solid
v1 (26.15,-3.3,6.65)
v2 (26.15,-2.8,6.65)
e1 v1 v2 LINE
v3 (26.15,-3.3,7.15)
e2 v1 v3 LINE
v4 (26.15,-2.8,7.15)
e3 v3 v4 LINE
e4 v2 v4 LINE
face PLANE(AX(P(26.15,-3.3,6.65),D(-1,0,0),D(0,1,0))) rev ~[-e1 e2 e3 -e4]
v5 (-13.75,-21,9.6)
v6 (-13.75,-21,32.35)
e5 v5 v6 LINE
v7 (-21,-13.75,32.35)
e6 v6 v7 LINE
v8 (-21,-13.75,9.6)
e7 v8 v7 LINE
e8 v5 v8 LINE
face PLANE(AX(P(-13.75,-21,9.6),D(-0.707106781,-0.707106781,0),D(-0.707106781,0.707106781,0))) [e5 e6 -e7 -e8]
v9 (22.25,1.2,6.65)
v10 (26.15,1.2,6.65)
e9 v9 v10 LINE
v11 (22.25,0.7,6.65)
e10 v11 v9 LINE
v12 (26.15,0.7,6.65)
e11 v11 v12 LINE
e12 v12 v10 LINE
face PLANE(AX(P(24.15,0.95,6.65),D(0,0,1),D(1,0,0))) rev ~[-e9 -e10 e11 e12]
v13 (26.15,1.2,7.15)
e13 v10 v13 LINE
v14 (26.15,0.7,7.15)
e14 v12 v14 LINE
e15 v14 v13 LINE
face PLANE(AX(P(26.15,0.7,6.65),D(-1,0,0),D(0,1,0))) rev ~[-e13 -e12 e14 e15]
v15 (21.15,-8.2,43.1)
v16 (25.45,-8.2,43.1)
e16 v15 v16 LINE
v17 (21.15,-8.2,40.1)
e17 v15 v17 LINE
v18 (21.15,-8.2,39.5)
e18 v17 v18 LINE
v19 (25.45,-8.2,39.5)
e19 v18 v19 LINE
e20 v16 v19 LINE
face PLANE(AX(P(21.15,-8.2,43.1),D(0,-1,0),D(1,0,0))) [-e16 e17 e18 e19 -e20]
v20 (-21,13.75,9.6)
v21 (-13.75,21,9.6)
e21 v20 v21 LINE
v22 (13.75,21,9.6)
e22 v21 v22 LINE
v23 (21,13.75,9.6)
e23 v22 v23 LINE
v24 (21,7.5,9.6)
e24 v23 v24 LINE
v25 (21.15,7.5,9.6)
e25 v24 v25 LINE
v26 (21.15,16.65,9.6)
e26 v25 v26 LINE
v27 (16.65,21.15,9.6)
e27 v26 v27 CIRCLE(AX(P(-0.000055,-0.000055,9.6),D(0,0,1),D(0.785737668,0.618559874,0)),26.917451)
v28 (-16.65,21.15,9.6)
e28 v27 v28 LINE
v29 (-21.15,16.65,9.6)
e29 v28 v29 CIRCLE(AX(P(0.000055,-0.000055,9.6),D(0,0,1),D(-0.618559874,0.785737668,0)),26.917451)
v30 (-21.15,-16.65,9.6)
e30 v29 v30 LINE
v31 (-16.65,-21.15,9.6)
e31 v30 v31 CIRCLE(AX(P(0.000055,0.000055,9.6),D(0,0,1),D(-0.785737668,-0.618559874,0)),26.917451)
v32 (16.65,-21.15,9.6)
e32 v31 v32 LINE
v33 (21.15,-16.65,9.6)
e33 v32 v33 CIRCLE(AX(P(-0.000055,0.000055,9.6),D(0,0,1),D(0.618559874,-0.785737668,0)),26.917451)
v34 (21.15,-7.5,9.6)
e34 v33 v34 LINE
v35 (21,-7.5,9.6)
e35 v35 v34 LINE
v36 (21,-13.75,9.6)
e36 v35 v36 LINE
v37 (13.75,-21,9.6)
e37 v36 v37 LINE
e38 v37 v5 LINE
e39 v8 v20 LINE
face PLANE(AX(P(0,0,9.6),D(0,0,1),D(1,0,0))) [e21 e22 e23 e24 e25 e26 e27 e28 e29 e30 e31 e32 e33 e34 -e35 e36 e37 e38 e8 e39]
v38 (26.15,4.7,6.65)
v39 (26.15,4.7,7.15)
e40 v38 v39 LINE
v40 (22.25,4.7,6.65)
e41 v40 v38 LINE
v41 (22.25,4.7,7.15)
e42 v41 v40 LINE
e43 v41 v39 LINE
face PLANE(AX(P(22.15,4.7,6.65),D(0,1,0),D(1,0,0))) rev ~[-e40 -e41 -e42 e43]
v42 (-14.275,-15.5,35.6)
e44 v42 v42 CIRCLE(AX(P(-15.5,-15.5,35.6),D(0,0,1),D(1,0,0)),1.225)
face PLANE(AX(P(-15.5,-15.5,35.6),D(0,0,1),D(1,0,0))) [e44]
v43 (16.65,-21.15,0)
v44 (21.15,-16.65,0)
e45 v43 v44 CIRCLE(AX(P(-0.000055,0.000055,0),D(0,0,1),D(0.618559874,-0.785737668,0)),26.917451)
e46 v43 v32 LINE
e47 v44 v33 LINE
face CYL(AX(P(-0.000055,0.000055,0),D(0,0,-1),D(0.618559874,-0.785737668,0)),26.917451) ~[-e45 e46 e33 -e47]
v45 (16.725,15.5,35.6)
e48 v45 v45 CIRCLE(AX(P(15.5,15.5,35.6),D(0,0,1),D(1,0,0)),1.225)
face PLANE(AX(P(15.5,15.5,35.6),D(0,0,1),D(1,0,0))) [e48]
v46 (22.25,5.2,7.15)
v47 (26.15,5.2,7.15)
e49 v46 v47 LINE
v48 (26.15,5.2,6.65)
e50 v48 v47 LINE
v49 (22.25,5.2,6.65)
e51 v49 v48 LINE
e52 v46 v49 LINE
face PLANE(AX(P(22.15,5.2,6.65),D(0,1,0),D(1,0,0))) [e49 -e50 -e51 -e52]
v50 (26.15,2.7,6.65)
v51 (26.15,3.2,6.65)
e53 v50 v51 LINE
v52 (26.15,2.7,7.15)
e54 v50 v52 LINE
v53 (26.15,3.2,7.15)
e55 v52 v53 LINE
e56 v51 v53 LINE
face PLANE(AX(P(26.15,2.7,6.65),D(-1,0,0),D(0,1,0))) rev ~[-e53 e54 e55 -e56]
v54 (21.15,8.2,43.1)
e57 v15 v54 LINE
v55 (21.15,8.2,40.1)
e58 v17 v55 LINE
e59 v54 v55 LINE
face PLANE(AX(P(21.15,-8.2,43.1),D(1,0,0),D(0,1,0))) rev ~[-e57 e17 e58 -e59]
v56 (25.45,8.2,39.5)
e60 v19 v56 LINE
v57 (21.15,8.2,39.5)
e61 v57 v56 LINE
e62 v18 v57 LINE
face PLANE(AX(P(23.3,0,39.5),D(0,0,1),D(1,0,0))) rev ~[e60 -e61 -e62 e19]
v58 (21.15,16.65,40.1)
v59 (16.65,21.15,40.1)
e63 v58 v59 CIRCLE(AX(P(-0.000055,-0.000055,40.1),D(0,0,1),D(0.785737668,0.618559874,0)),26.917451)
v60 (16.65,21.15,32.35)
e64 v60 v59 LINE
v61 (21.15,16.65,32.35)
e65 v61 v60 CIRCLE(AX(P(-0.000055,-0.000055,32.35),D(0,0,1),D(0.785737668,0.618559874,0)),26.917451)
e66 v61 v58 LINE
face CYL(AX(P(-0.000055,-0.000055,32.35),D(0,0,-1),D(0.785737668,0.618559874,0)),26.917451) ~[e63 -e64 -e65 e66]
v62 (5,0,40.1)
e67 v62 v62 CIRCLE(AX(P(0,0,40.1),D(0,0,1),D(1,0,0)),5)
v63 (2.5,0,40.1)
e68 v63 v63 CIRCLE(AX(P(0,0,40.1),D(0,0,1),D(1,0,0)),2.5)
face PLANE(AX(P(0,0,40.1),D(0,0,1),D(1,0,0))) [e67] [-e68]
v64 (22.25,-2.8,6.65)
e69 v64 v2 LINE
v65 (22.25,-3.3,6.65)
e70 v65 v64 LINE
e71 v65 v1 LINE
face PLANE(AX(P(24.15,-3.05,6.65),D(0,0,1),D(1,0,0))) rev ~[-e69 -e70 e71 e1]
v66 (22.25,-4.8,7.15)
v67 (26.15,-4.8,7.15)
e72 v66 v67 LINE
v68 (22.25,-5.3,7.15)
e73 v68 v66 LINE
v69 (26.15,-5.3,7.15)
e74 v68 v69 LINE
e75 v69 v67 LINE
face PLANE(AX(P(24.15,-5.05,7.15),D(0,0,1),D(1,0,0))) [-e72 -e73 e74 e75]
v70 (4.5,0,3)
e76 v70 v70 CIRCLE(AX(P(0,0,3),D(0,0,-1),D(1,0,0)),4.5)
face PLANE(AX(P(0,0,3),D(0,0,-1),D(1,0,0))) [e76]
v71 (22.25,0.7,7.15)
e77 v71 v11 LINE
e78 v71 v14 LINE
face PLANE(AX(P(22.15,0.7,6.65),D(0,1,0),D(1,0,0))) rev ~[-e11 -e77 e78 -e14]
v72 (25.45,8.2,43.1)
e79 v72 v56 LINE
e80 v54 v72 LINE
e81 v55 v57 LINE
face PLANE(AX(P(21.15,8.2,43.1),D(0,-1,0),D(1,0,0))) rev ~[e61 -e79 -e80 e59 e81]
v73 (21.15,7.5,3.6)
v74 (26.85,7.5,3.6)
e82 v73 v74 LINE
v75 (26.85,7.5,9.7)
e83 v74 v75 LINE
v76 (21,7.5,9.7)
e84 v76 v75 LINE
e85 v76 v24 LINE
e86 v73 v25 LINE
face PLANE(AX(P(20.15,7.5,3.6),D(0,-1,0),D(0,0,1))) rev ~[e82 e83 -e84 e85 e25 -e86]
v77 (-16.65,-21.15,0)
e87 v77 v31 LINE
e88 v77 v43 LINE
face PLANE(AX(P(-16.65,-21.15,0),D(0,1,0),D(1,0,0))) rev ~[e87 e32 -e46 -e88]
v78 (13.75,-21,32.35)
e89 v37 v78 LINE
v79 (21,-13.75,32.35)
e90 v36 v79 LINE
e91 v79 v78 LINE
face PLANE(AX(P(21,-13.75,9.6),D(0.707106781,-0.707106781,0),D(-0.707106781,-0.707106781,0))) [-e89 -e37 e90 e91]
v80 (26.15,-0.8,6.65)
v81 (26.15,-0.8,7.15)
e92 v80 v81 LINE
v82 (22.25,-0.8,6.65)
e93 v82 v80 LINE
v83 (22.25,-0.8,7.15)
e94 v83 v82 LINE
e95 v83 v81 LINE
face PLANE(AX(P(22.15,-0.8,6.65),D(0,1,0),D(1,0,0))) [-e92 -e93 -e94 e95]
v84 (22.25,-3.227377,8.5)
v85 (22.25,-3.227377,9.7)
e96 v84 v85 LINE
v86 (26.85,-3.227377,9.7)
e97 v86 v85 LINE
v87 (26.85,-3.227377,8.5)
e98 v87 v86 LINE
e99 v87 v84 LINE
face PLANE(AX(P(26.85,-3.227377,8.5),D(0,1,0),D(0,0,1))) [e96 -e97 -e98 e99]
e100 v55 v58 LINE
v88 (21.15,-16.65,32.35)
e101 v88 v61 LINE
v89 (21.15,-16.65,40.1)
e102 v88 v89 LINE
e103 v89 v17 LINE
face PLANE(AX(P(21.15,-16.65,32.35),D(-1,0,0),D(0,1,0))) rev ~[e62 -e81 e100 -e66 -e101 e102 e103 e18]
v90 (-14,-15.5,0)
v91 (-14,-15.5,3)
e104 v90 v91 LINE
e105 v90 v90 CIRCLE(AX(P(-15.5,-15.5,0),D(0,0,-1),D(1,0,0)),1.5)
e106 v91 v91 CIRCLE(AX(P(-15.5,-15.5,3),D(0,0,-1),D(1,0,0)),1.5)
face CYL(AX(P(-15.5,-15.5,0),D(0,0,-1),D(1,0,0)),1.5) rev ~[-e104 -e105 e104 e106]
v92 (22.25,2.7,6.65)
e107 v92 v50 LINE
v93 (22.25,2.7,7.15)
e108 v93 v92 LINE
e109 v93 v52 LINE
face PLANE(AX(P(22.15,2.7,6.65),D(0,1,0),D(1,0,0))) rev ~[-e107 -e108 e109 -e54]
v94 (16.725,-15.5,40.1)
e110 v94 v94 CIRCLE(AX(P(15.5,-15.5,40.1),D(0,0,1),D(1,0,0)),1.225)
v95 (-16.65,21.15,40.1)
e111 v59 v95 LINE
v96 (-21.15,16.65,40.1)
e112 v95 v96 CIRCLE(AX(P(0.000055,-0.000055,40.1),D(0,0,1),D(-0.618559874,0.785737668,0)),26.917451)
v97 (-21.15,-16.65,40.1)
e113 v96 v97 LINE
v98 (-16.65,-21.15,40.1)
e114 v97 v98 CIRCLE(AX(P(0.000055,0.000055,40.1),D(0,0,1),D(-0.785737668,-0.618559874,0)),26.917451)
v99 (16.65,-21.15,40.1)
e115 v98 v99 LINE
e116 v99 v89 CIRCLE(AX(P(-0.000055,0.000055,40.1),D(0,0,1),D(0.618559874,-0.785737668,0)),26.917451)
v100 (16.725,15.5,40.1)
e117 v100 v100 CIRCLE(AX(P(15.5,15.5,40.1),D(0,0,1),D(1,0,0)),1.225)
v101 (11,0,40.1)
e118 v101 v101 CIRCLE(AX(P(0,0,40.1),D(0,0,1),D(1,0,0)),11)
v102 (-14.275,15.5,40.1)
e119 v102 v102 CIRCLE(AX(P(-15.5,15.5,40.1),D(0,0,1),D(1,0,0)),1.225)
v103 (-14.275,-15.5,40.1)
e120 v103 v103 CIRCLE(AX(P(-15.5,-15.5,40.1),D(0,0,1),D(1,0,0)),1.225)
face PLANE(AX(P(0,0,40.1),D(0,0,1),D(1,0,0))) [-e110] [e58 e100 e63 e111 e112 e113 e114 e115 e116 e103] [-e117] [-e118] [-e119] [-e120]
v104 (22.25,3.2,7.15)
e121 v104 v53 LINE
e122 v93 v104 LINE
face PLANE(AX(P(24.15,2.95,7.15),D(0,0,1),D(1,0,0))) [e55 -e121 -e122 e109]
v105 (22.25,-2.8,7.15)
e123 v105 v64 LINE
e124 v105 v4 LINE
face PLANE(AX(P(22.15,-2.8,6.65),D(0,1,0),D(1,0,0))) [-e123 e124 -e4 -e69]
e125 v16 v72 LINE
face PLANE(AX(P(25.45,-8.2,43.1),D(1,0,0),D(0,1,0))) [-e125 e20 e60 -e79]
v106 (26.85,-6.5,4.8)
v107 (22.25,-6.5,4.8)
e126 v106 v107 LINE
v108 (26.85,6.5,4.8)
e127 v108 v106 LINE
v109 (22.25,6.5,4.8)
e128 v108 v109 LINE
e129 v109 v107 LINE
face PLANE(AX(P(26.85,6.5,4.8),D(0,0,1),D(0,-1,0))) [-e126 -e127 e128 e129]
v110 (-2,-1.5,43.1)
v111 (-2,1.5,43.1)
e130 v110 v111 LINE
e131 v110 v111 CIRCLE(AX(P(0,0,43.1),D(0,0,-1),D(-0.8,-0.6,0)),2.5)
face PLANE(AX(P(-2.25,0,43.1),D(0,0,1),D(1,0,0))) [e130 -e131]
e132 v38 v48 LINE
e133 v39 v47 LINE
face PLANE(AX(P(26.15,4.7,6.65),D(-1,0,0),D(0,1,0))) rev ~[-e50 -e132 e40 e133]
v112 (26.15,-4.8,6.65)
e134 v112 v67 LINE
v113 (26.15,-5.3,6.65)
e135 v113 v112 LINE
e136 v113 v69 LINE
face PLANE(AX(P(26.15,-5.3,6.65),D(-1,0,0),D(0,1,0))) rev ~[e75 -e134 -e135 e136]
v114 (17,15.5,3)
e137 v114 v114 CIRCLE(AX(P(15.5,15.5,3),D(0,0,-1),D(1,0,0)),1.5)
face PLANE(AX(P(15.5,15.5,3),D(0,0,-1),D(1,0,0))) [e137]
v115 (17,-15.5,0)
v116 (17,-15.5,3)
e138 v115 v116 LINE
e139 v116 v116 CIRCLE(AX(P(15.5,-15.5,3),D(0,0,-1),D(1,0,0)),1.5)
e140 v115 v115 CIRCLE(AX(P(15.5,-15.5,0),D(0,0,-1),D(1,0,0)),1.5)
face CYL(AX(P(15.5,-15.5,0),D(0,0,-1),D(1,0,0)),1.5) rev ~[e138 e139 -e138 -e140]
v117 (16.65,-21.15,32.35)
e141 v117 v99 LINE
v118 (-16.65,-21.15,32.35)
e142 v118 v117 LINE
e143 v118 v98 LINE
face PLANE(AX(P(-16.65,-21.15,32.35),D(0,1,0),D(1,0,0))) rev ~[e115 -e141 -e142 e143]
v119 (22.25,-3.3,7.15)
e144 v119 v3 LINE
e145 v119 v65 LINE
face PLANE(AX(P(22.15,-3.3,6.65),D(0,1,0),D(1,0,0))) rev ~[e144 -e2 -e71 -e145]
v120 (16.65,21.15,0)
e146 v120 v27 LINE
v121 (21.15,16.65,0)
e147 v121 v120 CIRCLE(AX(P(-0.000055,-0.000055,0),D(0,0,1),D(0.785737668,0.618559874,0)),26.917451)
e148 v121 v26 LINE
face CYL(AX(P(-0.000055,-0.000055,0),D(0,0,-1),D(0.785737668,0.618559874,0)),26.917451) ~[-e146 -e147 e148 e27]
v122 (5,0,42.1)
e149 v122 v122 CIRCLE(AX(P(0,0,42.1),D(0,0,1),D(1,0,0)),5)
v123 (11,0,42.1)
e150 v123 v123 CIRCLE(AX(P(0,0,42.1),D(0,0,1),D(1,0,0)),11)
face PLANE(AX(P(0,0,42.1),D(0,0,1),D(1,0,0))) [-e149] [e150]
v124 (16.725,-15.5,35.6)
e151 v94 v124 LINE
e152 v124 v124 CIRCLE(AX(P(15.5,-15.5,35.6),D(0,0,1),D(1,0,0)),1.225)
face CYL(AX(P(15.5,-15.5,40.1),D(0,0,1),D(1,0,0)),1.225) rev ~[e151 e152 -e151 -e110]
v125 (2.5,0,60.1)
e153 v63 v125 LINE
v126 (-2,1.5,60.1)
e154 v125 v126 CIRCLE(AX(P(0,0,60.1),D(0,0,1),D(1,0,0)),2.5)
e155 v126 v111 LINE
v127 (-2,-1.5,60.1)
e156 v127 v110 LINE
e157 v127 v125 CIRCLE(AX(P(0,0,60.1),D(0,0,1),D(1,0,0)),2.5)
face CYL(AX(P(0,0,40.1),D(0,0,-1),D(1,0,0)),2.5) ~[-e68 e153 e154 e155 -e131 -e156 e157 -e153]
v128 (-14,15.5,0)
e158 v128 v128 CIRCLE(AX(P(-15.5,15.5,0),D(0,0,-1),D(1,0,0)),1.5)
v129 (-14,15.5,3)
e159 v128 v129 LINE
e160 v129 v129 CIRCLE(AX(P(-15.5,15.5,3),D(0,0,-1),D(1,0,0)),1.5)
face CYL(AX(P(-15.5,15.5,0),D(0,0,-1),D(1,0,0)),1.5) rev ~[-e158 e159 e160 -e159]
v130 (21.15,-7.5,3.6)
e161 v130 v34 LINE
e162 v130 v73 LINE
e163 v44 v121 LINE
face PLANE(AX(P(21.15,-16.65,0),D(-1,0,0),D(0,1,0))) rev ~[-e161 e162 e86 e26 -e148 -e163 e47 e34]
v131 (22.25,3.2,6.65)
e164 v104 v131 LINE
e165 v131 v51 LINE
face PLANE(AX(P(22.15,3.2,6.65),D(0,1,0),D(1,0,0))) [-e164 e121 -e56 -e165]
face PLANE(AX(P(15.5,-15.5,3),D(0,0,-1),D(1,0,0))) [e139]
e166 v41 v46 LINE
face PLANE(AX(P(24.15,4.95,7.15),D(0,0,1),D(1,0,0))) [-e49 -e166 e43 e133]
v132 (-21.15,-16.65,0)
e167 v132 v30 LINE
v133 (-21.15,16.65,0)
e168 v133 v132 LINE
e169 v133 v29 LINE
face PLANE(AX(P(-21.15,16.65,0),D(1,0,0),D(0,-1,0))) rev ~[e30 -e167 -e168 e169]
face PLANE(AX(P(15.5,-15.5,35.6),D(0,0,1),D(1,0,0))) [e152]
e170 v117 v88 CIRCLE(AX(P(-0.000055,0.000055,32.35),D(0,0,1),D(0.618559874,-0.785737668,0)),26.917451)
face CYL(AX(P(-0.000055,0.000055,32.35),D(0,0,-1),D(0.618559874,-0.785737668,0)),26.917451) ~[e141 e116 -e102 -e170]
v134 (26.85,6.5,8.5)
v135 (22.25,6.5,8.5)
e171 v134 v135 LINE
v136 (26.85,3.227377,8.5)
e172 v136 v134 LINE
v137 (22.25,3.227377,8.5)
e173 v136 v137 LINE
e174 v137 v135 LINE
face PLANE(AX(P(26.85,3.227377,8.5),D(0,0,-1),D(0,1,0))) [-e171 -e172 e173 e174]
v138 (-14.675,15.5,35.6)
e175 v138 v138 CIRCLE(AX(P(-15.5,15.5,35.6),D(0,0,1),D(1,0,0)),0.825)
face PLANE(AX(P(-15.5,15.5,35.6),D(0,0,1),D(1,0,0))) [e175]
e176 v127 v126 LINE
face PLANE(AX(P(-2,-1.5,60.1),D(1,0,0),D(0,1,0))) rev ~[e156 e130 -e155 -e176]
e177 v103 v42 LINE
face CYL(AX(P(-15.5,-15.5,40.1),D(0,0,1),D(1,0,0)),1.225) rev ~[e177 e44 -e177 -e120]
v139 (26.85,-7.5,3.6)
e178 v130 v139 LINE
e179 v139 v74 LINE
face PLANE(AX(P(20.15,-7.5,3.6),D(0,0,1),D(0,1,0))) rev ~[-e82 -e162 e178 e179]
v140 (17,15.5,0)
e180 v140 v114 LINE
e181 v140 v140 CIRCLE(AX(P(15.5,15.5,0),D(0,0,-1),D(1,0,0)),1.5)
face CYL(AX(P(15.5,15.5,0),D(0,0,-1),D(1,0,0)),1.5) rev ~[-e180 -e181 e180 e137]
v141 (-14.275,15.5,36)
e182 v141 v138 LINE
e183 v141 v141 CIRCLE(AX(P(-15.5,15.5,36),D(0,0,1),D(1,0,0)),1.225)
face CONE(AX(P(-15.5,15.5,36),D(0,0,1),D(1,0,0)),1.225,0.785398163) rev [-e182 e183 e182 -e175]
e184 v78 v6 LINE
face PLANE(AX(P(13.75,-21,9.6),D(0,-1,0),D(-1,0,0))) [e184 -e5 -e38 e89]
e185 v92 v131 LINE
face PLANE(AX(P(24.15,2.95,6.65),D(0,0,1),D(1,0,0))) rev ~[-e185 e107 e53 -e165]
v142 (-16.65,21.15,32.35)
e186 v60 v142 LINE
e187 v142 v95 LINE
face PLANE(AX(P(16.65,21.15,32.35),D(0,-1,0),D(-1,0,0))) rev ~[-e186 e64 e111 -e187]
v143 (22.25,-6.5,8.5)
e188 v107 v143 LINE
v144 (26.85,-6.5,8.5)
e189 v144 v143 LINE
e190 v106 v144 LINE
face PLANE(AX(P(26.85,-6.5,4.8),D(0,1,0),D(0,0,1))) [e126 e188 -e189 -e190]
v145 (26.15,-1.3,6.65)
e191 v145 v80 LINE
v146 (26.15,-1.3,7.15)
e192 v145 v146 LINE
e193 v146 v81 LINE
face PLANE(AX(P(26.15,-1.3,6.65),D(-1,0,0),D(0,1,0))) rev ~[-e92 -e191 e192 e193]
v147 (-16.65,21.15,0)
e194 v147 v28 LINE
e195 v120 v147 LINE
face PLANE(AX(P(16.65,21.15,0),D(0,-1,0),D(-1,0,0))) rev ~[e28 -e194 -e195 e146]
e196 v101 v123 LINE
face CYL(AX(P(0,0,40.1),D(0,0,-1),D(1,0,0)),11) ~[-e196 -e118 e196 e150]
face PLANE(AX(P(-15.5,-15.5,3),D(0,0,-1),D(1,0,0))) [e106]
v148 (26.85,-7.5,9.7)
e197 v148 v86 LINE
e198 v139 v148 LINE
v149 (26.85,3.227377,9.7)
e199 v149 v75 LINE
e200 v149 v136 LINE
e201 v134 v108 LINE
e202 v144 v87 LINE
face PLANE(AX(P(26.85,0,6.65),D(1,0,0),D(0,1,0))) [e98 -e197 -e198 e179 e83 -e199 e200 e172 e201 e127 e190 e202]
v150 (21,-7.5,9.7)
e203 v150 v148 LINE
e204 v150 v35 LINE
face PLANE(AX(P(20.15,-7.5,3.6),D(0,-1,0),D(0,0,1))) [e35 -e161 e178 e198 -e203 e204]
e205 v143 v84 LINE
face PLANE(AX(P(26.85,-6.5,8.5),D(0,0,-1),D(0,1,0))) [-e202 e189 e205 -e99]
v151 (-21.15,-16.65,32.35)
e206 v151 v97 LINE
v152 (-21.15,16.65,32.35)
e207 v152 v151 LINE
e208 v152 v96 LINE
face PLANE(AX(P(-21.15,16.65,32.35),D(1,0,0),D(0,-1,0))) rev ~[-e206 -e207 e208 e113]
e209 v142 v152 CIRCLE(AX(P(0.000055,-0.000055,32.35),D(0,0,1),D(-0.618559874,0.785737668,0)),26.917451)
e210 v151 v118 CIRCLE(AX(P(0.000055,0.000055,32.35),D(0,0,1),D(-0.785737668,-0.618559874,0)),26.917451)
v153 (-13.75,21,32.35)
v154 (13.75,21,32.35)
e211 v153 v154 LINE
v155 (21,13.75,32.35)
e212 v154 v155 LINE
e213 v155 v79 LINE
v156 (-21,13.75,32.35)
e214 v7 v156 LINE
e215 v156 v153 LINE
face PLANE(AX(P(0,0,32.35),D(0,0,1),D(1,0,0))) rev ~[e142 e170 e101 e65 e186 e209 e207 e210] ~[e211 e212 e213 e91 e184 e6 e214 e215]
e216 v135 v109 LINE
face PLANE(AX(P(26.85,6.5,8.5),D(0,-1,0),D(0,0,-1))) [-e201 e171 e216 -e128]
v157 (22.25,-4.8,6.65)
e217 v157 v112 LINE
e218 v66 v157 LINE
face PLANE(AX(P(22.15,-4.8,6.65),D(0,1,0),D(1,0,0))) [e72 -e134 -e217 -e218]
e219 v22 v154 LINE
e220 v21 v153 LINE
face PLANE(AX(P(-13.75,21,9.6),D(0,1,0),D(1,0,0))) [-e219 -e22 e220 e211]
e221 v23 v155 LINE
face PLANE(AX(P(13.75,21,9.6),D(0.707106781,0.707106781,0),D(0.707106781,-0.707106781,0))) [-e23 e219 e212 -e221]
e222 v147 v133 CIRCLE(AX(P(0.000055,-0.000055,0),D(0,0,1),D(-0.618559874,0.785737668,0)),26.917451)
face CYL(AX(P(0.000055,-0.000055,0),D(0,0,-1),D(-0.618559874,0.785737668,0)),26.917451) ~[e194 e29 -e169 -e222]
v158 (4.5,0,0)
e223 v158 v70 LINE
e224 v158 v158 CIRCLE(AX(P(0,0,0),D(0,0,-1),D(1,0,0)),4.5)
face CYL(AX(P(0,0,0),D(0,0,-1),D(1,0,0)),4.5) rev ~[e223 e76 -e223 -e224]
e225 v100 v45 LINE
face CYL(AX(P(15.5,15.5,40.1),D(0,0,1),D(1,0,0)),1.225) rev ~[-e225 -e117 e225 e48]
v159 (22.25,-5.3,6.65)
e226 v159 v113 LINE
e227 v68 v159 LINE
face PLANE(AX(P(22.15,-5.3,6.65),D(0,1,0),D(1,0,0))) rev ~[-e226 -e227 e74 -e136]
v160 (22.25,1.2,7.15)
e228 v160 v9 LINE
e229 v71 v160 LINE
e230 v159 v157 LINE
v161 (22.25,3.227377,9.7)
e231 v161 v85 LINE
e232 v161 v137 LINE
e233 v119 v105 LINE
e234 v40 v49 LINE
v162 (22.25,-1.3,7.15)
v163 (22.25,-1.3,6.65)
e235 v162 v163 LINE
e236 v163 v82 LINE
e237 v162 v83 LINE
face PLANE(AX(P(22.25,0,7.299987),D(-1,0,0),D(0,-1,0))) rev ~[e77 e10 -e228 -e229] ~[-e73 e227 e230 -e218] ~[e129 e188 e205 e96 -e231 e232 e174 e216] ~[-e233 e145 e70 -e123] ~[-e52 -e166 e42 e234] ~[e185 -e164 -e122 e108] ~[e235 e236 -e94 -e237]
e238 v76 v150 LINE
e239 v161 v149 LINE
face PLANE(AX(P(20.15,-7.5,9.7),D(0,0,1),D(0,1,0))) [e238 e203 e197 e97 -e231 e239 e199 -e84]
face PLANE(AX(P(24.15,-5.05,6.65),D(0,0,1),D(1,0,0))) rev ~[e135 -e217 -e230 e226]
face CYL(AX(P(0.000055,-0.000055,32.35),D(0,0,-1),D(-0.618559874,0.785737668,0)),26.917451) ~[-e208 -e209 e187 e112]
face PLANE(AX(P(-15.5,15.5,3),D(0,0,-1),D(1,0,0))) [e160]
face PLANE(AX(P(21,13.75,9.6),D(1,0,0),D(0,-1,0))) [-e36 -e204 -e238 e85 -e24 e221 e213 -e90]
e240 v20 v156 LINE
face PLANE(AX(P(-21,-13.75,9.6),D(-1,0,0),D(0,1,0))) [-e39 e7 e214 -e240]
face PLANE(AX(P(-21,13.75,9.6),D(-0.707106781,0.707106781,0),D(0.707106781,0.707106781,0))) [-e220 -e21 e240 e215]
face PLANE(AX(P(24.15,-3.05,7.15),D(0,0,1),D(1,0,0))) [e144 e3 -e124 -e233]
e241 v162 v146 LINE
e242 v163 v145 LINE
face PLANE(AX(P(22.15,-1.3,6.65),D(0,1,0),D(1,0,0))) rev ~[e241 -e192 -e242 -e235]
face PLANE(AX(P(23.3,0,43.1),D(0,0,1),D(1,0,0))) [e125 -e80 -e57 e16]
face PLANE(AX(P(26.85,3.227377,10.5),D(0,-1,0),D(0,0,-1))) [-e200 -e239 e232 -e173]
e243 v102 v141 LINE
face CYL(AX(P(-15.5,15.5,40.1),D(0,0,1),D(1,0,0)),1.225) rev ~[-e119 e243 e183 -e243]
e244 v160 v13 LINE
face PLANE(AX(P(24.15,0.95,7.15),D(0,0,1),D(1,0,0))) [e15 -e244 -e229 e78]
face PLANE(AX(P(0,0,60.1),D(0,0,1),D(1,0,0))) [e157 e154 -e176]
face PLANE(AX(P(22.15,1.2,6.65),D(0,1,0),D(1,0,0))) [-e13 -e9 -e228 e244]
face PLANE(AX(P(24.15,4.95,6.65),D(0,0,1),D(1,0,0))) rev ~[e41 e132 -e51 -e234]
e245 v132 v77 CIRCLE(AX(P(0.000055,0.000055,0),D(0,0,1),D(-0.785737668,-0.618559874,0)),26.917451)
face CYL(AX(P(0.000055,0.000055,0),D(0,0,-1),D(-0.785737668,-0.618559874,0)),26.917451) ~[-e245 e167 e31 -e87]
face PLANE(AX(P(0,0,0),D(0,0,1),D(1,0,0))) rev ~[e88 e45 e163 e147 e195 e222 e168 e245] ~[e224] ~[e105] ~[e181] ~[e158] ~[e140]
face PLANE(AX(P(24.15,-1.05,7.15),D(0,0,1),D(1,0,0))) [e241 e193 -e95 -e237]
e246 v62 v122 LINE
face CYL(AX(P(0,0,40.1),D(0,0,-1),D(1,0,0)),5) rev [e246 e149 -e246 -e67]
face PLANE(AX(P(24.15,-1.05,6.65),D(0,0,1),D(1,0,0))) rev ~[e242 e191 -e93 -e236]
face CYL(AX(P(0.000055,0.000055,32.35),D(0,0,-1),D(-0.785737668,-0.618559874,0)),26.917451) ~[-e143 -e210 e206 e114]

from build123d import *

# Parameters (mm, degrees)
BOX_W           = 4
BOX_H           = 0.5
BOX_DEPTH       = 0.5
ARRAY_Y_COUNT   = 6
ARRAY_Y_PITCH   = 2
SKETCH017_W     = 15
SKETCH017_H     = 6.1
PAD008_DEPTH    = 6.7
POCKET007_DEPTH = 4.6
PAD002_DEPTH    = 9.6
PAD003_DEPTH    = 22.75
PAD004_DEPTH    = 7.75
SKETCH010_R     = 1.225
POCKET003_DEPTH = 4.5
SKETCH011_R     = 11
SKETCH011_R_2   = 5
PAD005_DEPTH    = 2
SKETCH012_R     = 2.5
PAD006_DEPTH    = 20
SKETCH013_W     = 0.5
SKETCH013_H     = 3
POCKET004_DEPTH = 17
SKETCH014_R     = 1.5
SKETCH014_R_2   = 4.5
POCKET005_DEPTH = 3
CHAMFER004_SIZE = 0.4
SKETCH015_W     = 4.3
SKETCH015_H     = 16.4
PAD007_DEPTH    = 3.6
SKETCH016_W     = 16.4
SKETCH016_H     = 6
POCKET006_DEPTH = 1


with BuildPart() as pins:
    # Box → Box (new body)
    with BuildSketch(Plane.XY):
        with Locations((2, 0.25)):
            Rectangle(BOX_W, BOX_H)
    extrude(amount=BOX_DEPTH)

    # Array Y: pins ×6


with BuildPart() as pins_1:
    add(pins.part)
    with Locations(*[(0, i * ARRAY_Y_PITCH, 0) for i in range(1, ARRAY_Y_COUNT)]):
        add(pins.part)


with BuildPart() as pins_2:
    # Array placement: moved
    add(pins_1.part.moved(Location((2, -5.3, 0))))


with BuildPart() as connector:
    # Sketch017 → Pad008 (new body)
    with BuildSketch(Plane.YZ):
        Rectangle(SKETCH017_W, SKETCH017_H)
    extrude(amount=PAD008_DEPTH)

    # Sketch018 (on Face6 of Pad008) → Pocket007 (cut)
    with BuildSketch(Plane.YZ.offset(6.7)):
        Polygon((-6.5, 1.85), (-3.227377, 1.85), (-3.227377, 3.85), (3.227377, 3.85), (3.227377, 1.85), (6.5, 1.85), (6.5, -1.85), (-6.5, -1.85), align=None)
    extrude(amount=-POCKET007_DEPTH, mode=Mode.SUBTRACT)

    # Fusion001: union pins
    add(pins_2.part)


with BuildPart() as connector_1:
    # Fusion001 placement: moved
    add(connector.part.moved(Location((20.15, 0, 6.65))))


with BuildPart() as motor_with_connector:
    # Sketch007 → Pad002 (new body)
    with BuildSketch(Plane.XY):
        with BuildLine():
            Line((-16.65, -21.15), (16.65, -21.15))
            ThreePointArc((16.65, -21.15), (19.033457, -19.033457), (21.15, -16.65))
            Line((21.15, -16.65), (21.15, 16.65))
            ThreePointArc((21.15, 16.65), (19.033457, 19.033457), (16.65, 21.15))
            Line((16.65, 21.15), (-16.65, 21.15))
            ThreePointArc((-16.65, 21.15), (-19.033457, 19.033457), (-21.15, 16.65))
            Line((-21.15, 16.65), (-21.15, -16.65))
            ThreePointArc((-21.15, -16.65), (-19.033457, -19.033457), (-16.65, -21.15))
        make_face()
    extrude(amount=PAD002_DEPTH)

    # Sketch008 (on Face10 of Pad002) → Pad003 (new body)
    with BuildSketch(Plane.XY.offset(9.6)):
        Polygon((-21, -13.75), (-21, 13.75), (-13.75, 21), (13.75, 21), (21, 13.75), (21, -13.75), (13.75, -21), (-13.75, -21), align=None)
    extrude(amount=PAD003_DEPTH)

    # Sketch009 (on Face19 of Pad003) → Pad004 (new body)
    with BuildSketch(Plane.XY.offset(32.35)):
        with BuildLine():
            Line((-16.65, -21.15), (16.65, -21.15))
            ThreePointArc((16.65, -21.15), (19.033457, -19.033457), (21.15, -16.65))
            Line((21.15, -16.65), (21.15, 16.65))
            ThreePointArc((21.15, 16.65), (19.033457, 19.033457), (16.65, 21.15))
            Line((16.65, 21.15), (-16.65, 21.15))
            ThreePointArc((-16.65, 21.15), (-19.033457, 19.033457), (-21.15, 16.65))
            Line((-21.15, 16.65), (-21.15, -16.65))
            ThreePointArc((-21.15, -16.65), (-19.033457, -19.033457), (-16.65, -21.15))
        make_face()
    extrude(amount=PAD004_DEPTH)

    # Sketch010 (on Face28 of Pad004) → Pocket003 (cut)
    with BuildSketch(Plane.XY.offset(40.1)):
        with Locations((-15.5, 15.5)):
            Circle(SKETCH010_R)
        with Locations((15.5, 15.5)):
            Circle(SKETCH010_R)
        with Locations((15.5, -15.5)):
            Circle(SKETCH010_R)
        with Locations((-15.5, -15.5)):
            Circle(SKETCH010_R)
    extrude(amount=-POCKET003_DEPTH, mode=Mode.SUBTRACT)

    # Sketch011 (on Face28 of Pocket003) → Pad005 (new body)
    with BuildSketch(Plane.XY.offset(40.1)):
        Circle(SKETCH011_R)
        Circle(SKETCH011_R_2, mode=Mode.SUBTRACT)
    extrude(amount=PAD005_DEPTH)

    # Sketch012 (on Face40 of Pad005) → Pad006 (new body)
    with BuildSketch(Plane.XY.offset(40.1)):
        Circle(SKETCH012_R)
    extrude(amount=PAD006_DEPTH)

    # Sketch013 (on Face42 of Pad006) → Pocket004 (cut)
    with BuildSketch(Plane.XY.offset(60.1)):
        with Locations((-2.25, 0)):
            Rectangle(SKETCH013_W, SKETCH013_H)
    extrude(amount=-POCKET004_DEPTH, mode=Mode.SUBTRACT)

    # Sketch014 (on Face4 of Pocket004) → Pocket005 (cut)
    with BuildSketch(Plane(origin=(0, 0, 0), x_dir=(1, 0, 0), z_dir=(0, 0, -1))):
        with Locations((-15.5, 15.5)):
            Circle(SKETCH014_R)
        with Locations((15.5, 15.5)):
            Circle(SKETCH014_R)
        with Locations((15.5, -15.5)):
            Circle(SKETCH014_R)
        with Locations((-15.5, -15.5)):
            Circle(SKETCH014_R)
        Circle(SKETCH014_R_2)
    extrude(amount=-POCKET005_DEPTH, mode=Mode.SUBTRACT)

    # Chamfer004
    chamfer004_edges = [motor_with_connector.edges().sort_by_distance(p)[0] for p in [
        (-16.725, 15.5, 35.6),
    ]]
    chamfer(chamfer004_edges, length=CHAMFER004_SIZE)

    # Sketch015 (on Face45 of Chamfer004) → Pad007 (new body)
    with BuildSketch(Plane.XY.offset(43.1)):
        with Locations((23.3, 0)):
            Rectangle(SKETCH015_W, SKETCH015_H)
    extrude(amount=-PAD007_DEPTH)

    # Sketch016 (on Face5 of Pad007) → Pocket006 (cut)
    with BuildSketch(Plane(origin=(21.15, 0, 0), x_dir=(0, -1, 0), z_dir=(-1, 0, 0))):
        with Locations((0, 6.6)):
            Rectangle(SKETCH016_W, SKETCH016_H)
    extrude(amount=-POCKET006_DEPTH, mode=Mode.SUBTRACT)

    # Fusion002: union connector
    add(connector_1.part)


solid = motor_with_connector.part
